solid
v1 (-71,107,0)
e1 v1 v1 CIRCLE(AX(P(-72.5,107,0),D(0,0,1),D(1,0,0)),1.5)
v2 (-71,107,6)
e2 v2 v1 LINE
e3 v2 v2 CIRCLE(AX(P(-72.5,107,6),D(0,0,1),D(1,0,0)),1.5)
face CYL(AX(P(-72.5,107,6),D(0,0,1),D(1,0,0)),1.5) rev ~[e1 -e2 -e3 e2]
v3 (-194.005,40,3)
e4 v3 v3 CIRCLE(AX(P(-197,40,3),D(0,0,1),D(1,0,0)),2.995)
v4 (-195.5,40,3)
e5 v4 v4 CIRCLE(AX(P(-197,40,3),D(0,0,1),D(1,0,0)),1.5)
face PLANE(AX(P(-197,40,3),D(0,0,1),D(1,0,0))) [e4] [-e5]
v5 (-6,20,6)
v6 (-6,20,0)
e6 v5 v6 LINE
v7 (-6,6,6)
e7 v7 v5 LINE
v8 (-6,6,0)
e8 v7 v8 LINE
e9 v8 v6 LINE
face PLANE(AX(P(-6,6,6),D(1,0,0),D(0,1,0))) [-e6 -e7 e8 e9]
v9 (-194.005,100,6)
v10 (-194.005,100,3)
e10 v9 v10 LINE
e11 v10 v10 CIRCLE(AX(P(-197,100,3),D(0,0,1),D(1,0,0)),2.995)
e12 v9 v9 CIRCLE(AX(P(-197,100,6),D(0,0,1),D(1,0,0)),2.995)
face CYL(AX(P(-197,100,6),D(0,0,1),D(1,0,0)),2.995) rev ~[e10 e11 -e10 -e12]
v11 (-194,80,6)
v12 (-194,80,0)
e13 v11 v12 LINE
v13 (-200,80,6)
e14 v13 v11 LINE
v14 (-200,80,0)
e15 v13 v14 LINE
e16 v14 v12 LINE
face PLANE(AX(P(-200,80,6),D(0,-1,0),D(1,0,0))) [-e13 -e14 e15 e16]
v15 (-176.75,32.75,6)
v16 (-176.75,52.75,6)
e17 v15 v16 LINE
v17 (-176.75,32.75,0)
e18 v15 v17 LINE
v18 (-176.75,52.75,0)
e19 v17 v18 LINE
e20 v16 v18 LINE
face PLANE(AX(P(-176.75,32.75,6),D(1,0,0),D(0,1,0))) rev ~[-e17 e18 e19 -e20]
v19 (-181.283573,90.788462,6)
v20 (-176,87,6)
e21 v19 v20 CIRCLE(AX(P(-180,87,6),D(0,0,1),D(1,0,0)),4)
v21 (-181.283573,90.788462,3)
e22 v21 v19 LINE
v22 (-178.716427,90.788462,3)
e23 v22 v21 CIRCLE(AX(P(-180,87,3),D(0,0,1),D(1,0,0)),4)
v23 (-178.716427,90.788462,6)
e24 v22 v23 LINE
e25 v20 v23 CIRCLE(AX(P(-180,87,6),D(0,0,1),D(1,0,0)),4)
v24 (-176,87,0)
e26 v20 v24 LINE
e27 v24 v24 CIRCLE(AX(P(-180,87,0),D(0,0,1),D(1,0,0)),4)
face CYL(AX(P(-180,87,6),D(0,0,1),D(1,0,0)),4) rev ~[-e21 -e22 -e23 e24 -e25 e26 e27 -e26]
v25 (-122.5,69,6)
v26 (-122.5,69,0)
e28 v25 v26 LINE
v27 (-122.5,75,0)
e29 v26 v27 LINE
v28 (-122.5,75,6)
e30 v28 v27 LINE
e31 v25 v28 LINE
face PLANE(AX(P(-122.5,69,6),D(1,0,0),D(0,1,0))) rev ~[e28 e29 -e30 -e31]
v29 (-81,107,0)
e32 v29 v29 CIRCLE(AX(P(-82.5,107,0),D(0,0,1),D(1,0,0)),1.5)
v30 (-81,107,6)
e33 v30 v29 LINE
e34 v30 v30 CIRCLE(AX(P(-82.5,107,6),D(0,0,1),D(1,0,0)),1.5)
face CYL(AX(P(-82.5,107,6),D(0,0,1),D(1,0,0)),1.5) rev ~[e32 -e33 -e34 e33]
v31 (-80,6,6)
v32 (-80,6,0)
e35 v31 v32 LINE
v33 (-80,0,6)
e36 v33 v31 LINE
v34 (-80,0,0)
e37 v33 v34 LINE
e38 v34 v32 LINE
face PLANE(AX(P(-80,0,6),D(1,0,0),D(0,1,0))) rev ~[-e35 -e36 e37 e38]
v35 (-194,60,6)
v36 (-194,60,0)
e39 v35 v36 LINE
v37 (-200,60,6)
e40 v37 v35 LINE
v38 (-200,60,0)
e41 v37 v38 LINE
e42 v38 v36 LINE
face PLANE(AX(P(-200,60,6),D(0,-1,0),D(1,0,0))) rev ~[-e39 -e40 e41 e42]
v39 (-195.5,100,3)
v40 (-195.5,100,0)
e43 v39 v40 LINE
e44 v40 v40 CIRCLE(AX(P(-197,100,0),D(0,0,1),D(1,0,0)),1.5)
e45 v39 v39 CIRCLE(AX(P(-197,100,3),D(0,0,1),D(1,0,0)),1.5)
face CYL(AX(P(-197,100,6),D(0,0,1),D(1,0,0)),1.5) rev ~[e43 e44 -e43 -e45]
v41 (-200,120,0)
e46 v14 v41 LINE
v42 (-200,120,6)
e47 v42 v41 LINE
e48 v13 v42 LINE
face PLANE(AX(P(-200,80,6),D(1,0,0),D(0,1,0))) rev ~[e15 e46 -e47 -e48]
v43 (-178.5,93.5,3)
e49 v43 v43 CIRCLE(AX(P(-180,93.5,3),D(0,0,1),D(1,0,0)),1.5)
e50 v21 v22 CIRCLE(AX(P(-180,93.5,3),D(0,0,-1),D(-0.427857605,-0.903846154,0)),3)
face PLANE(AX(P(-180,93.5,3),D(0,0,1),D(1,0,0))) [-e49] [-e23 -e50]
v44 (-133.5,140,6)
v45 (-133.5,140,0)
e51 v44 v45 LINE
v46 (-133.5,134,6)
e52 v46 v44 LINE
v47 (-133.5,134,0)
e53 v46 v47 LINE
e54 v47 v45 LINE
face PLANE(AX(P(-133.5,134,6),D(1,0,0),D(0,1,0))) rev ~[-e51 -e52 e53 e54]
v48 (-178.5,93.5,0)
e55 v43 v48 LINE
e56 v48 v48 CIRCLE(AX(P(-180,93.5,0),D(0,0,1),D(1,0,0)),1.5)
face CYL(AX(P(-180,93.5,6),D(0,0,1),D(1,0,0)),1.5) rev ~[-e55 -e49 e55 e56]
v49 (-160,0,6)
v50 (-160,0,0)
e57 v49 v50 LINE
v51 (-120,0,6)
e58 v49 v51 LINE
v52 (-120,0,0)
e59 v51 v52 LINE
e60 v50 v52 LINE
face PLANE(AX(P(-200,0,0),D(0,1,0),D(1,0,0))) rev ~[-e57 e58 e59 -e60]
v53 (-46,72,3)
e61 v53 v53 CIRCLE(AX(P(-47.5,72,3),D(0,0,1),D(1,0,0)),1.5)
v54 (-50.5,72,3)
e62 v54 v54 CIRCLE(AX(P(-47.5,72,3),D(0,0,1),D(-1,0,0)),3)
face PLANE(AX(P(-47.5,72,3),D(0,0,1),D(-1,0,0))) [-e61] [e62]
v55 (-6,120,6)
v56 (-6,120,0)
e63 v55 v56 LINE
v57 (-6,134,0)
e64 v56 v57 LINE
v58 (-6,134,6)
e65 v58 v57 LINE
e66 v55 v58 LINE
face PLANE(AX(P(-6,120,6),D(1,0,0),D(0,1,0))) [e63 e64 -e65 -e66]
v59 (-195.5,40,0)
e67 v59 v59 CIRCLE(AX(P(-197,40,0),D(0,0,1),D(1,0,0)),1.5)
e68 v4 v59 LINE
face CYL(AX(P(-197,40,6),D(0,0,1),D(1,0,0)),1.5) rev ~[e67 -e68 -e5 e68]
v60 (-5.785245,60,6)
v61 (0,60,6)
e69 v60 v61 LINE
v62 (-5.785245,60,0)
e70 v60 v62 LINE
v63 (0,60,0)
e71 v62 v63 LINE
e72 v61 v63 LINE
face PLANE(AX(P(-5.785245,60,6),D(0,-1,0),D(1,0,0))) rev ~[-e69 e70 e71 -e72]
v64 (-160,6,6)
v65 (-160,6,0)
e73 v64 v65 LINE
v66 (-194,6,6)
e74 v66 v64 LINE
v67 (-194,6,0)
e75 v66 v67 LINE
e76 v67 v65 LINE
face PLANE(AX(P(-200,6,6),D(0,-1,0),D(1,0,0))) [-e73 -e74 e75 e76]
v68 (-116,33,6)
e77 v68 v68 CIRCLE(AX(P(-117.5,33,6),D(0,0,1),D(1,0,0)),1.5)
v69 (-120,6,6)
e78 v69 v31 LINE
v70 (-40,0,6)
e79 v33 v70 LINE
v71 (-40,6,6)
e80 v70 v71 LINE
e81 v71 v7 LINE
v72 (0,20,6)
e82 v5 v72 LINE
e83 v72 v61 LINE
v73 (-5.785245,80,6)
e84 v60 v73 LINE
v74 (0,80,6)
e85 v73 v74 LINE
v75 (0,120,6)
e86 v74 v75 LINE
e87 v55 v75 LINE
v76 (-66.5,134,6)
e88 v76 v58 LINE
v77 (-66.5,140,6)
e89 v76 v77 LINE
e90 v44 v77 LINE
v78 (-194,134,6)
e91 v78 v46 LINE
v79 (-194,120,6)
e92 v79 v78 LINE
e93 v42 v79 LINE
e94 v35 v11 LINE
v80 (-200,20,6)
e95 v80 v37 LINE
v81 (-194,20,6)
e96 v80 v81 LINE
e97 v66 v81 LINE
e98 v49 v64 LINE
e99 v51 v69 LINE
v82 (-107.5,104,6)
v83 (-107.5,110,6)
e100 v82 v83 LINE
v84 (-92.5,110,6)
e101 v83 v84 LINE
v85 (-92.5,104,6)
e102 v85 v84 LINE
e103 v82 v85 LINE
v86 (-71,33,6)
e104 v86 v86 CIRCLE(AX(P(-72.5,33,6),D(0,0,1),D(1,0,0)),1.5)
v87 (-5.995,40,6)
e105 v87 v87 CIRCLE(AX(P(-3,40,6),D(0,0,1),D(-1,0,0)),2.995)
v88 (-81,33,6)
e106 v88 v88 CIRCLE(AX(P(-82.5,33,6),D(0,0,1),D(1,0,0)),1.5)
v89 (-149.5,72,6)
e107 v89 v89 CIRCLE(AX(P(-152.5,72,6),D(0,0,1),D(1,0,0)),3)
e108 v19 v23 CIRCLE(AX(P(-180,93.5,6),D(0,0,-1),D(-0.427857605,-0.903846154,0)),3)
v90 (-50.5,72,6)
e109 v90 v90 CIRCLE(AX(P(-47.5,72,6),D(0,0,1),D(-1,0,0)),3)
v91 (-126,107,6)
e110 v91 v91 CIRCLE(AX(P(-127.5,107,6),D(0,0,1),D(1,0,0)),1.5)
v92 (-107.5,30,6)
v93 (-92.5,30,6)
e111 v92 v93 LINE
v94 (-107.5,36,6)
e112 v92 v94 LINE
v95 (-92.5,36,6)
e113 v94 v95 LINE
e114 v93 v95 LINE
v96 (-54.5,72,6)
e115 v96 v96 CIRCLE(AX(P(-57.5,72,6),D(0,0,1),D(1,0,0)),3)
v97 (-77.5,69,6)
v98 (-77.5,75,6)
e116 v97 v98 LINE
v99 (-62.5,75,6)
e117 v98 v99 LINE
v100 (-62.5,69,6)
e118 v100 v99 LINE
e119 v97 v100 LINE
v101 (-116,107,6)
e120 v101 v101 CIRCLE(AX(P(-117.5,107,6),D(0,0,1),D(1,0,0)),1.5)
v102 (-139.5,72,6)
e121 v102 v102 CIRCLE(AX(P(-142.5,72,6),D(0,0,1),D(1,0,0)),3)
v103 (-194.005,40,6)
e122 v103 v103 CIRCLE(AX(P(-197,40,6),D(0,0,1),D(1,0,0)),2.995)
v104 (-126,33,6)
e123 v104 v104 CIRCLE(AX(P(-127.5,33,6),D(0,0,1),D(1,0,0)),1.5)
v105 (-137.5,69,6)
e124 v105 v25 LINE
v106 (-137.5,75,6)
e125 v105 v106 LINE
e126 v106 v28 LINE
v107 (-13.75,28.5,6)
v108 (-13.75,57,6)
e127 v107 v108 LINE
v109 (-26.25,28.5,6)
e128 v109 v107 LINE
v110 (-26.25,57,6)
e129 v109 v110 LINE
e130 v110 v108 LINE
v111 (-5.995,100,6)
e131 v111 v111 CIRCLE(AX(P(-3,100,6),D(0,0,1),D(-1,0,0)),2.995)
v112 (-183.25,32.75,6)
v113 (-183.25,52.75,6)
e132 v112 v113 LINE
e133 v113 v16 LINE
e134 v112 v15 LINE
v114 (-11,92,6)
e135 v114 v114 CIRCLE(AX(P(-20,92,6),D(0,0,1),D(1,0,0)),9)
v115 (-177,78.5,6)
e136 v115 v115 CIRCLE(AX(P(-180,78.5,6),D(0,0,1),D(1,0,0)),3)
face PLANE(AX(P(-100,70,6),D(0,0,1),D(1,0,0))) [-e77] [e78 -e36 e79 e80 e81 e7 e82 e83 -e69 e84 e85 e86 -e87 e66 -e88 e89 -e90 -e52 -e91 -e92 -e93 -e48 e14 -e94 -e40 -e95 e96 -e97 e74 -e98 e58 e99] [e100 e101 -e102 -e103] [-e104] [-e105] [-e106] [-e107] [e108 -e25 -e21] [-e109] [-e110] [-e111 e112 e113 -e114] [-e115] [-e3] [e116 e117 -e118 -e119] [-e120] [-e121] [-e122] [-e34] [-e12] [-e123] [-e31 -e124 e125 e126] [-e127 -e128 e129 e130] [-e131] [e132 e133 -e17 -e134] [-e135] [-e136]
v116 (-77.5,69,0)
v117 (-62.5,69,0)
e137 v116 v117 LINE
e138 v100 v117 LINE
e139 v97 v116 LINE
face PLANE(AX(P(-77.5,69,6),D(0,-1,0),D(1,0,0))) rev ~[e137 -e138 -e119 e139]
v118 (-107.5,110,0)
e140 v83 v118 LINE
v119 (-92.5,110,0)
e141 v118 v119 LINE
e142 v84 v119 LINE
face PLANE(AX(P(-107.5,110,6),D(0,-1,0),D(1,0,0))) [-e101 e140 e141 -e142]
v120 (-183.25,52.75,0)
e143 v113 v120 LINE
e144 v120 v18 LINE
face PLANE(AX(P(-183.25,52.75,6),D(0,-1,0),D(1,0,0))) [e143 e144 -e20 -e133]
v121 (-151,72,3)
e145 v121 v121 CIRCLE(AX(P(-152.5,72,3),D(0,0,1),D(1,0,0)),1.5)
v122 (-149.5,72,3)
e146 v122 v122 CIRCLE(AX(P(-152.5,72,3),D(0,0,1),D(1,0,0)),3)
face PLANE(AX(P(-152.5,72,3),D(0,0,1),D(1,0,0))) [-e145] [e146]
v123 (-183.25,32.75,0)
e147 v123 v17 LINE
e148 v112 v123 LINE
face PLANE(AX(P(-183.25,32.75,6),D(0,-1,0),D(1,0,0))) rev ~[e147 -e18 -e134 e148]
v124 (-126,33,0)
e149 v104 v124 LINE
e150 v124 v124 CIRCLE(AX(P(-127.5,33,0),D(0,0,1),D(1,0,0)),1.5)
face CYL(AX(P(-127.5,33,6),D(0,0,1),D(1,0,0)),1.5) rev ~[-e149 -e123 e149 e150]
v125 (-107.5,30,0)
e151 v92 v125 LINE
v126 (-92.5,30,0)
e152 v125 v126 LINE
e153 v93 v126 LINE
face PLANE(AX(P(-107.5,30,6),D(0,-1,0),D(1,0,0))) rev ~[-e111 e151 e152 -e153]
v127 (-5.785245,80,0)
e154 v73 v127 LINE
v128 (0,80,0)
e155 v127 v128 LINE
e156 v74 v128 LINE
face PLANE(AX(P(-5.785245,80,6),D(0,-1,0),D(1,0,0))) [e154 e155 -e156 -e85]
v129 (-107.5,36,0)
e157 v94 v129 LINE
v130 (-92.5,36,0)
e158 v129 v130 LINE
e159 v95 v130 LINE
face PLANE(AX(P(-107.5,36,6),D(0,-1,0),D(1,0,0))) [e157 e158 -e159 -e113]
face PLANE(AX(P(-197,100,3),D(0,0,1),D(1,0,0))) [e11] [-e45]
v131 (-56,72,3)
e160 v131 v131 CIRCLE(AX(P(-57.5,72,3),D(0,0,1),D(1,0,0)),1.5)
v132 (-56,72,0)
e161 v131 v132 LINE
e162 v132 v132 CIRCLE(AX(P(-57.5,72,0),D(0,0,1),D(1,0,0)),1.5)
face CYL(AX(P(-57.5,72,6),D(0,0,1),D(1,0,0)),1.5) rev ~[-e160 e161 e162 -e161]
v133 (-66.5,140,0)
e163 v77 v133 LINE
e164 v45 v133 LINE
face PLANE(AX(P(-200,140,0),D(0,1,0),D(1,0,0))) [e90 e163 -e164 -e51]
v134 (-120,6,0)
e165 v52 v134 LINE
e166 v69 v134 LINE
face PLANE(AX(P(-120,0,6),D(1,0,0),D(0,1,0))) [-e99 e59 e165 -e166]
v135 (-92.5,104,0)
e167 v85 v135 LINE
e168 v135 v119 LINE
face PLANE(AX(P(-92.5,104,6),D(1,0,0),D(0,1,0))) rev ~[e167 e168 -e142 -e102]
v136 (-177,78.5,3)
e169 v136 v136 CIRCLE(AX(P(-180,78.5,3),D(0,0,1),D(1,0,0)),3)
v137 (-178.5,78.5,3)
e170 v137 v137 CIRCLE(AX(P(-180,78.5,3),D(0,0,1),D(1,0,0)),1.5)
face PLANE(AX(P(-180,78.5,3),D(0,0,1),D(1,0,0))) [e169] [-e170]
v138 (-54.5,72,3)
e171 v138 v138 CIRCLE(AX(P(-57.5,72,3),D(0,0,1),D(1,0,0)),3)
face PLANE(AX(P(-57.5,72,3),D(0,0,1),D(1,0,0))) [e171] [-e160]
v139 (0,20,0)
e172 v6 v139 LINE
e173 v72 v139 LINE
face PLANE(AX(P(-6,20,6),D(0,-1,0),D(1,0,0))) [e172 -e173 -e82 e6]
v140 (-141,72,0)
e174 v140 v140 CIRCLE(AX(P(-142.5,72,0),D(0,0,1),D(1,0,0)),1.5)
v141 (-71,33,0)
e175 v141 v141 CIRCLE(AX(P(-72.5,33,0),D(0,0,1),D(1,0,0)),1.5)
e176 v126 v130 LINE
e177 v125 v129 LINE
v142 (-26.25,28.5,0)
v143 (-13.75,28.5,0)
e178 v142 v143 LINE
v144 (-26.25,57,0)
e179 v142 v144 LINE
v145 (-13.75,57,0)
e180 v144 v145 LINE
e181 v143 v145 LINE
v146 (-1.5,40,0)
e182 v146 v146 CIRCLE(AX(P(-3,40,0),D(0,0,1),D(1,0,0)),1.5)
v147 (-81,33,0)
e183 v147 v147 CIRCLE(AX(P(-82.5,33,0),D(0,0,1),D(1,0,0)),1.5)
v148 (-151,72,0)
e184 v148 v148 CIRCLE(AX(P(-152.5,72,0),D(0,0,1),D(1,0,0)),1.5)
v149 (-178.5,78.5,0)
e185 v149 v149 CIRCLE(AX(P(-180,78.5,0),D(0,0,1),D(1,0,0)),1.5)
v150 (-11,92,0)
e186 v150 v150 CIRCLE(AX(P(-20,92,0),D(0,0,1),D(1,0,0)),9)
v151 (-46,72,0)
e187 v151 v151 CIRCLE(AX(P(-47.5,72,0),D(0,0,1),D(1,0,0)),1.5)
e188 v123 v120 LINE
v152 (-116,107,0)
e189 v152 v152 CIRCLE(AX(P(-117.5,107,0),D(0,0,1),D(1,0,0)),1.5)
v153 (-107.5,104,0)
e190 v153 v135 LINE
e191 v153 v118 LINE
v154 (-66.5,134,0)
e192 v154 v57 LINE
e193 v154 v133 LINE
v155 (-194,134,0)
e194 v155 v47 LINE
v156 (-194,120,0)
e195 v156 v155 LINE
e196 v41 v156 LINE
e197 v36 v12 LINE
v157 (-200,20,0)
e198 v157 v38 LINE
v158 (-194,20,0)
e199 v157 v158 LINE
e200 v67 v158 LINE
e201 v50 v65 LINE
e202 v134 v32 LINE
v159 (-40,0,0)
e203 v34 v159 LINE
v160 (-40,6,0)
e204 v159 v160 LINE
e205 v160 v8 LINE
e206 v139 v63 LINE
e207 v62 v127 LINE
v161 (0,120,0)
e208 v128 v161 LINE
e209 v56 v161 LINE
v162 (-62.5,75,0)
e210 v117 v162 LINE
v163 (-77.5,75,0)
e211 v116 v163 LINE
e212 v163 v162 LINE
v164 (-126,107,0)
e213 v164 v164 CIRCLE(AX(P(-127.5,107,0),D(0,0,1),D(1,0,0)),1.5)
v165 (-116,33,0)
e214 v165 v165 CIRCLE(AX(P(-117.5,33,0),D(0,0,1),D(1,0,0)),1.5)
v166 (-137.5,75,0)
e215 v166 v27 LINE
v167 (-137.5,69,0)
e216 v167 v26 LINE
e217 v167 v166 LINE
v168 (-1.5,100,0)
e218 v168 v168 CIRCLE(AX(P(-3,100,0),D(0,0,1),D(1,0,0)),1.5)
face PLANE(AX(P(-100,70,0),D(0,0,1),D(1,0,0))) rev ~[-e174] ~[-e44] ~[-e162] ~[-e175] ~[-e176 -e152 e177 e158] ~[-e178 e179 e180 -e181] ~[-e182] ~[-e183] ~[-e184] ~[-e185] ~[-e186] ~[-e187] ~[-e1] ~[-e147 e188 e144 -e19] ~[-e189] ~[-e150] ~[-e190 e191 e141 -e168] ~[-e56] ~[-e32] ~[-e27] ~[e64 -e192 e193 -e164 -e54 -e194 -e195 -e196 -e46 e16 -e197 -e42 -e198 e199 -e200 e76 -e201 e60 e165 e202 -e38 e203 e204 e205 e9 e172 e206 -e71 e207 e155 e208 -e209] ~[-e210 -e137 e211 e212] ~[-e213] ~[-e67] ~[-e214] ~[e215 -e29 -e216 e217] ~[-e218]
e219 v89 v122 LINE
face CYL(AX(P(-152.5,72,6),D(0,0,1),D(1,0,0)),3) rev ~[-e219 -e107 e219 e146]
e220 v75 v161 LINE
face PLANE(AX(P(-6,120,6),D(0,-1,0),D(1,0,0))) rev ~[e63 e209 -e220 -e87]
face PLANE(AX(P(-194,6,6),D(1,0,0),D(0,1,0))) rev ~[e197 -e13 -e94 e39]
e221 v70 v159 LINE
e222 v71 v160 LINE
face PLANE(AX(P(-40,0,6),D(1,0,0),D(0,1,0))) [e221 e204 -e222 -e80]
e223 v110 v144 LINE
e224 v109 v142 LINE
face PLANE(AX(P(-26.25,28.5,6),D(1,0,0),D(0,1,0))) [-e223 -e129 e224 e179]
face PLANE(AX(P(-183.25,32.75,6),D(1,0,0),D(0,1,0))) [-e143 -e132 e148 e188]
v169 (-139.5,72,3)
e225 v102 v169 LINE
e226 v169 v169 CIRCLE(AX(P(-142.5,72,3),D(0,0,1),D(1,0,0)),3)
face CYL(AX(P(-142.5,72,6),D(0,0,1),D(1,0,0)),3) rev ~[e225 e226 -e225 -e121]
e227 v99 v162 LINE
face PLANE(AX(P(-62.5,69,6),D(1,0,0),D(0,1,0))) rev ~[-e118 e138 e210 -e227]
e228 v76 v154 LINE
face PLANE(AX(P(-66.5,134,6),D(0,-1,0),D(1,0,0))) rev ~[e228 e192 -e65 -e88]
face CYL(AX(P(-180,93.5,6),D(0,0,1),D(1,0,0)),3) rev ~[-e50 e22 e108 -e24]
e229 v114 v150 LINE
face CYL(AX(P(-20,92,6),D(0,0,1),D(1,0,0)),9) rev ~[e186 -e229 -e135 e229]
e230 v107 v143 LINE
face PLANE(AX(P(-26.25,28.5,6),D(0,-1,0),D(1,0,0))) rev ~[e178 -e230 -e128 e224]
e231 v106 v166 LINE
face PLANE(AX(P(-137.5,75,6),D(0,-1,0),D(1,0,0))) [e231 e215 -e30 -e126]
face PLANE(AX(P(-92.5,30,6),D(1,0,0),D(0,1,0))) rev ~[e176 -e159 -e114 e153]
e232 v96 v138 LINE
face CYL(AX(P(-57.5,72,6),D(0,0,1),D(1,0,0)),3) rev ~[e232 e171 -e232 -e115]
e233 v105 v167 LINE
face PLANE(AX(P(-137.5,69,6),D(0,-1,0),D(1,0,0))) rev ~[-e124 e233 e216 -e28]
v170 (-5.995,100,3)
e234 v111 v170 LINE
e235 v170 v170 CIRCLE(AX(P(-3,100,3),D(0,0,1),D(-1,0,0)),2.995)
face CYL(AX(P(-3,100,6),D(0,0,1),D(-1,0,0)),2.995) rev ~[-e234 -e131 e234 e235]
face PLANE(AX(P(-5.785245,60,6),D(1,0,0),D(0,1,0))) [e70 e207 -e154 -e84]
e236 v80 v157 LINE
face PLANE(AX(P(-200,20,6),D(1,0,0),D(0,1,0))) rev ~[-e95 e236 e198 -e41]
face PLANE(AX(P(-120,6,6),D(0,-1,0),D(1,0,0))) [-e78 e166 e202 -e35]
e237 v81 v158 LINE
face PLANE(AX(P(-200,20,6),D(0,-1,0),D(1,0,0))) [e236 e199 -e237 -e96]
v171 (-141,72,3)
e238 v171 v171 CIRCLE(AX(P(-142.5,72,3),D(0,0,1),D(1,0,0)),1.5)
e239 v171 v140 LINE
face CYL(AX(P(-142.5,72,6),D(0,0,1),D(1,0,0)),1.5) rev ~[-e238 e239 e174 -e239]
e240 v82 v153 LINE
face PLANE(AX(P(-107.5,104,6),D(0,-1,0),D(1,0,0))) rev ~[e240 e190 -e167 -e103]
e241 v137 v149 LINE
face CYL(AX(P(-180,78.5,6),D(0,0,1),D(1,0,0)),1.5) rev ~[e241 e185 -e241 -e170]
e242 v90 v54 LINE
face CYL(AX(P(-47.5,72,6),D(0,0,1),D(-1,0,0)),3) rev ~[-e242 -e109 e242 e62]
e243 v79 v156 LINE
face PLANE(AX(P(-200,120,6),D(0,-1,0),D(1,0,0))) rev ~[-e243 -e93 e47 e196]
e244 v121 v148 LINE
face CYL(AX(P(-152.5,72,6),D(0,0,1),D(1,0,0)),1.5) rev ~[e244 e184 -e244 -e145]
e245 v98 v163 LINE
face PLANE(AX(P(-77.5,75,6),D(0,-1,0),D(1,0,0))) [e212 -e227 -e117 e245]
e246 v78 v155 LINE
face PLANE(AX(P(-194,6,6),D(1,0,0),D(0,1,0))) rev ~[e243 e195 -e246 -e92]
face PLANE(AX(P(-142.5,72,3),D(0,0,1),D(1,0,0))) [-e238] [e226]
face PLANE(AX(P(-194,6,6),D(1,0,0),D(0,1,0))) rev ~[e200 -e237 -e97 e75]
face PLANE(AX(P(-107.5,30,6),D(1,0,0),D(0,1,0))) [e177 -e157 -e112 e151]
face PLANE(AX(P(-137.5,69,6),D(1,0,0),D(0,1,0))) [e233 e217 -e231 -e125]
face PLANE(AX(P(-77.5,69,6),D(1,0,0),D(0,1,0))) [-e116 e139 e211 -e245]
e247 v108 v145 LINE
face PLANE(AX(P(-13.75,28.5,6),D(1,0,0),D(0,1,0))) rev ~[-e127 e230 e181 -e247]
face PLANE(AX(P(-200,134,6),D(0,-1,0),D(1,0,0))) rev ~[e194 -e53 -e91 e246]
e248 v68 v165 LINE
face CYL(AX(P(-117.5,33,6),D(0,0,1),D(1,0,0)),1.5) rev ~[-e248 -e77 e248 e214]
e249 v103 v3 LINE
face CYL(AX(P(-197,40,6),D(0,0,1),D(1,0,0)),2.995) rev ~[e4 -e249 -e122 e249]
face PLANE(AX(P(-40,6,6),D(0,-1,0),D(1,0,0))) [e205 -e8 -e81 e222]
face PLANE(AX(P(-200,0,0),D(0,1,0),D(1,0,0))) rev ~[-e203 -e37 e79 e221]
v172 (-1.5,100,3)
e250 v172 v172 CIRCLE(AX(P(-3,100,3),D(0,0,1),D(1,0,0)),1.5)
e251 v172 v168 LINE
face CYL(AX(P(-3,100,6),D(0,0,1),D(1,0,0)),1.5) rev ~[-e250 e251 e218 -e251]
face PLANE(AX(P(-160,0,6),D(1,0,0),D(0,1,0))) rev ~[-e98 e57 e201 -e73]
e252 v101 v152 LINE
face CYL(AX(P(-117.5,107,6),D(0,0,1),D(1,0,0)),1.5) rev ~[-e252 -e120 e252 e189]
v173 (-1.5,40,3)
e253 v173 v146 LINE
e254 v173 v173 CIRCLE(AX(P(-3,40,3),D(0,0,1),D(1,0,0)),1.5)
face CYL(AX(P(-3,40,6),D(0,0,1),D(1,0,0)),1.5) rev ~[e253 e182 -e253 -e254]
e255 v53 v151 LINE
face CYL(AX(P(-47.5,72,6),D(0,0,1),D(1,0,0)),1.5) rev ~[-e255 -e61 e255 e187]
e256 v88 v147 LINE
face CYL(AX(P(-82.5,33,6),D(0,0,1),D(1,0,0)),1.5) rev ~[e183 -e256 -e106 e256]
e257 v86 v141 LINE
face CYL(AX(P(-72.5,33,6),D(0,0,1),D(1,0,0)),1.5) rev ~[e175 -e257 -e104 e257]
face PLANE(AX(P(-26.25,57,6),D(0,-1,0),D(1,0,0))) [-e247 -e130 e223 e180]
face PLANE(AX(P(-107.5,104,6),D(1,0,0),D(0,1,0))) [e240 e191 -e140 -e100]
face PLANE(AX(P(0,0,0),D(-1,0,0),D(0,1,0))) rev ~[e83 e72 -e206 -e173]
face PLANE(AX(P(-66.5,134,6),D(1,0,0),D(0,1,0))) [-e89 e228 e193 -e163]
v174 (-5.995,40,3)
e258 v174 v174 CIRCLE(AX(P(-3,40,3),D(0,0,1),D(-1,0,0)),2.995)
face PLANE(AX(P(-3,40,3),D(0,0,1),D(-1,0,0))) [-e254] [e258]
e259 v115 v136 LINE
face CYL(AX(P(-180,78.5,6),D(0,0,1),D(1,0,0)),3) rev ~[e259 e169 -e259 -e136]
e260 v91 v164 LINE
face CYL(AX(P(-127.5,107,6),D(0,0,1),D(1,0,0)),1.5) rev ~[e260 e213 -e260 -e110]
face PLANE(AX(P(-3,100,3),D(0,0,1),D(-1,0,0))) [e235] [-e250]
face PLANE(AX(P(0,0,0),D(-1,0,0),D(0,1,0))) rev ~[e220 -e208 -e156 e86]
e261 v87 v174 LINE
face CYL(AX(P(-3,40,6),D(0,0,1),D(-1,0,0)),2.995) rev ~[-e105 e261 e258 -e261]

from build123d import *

# Parameters (mm, degrees)
ESQUISSE1_W              = 200
ESQUISSE1_H              = 140
BOSS_EXTRU_1_DEPTH       = 6
ESQUISSE2_R              = 9
ESQUISSE2_R_2            = 4
ESQUISSE2_W              = 6.5
ESQUISSE2_H              = 20
ESQUISSE2_W_2            = 12.5
ESQUISSE2_H_2            = 28.5
ENL_V_MAT_EXTRU_1_DEPTH  = 245.204832057
ESQUISSE3_W              = 40
ESQUISSE3_H              = 6
ESQUISSE3_W_2            = 66.5
ENL_V_MAT_EXTRU_2_DEPTH  = 6
ESQUISSE7_W              = 6
ESQUISSE7_H              = 128
ESQUISSE7_H_2            = 14
ESQUISSE7_R              = 1.5
ENL_V_MAT_EXTRU_4_DEPTH  = 6
ESQUISSE9_W              = 5.785245128
ESQUISSE9_H              = 20
ENL_V_MAT_EXTRU_5_DEPTH  = 6
ESQUISSE12_W             = 6
ESQUISSE12_H             = 40
BOSS_EXTRU_2_DEPTH       = 6
ESQUISSE13_R             = 1.5
ENL_V_MAT_EXTRU_7_DEPTH  = 6
ESQUISSE14_R             = 1.5
ESQUISSE14_W             = 15
ESQUISSE14_H             = 6
ENL_V_MAT_EXTRU_8_DEPTH  = 245.204832057
ESQUISSE15_R             = 1.5
ENL_V_MAT_EXTRU_9_DEPTH  = 245.204832057
ESQUISSE17_R             = 3
ENL_V_MAT_EXTRU_12_DEPTH = 3
ESQUISSE18_R             = 1.5
ESQUISSE18_W             = 15
ESQUISSE18_H             = 6
ENL_V_MAT_EXTRU_13_DEPTH = 245.204832057
ESQUISSE16_R             = 2.995
ESQUISSE16_R_2           = 3
ENL_V_MAT_EXTRU_11_DEPTH = 3


with BuildPart() as part:
    # Esquisse1 → Boss.-Extru.1 (new body)
    with BuildSketch(Plane.XY):
        with Locations((-100, 70)):
            Rectangle(ESQUISSE1_W, ESQUISSE1_H)
    extrude(amount=BOSS_EXTRU_1_DEPTH)

    # Esquisse2 → Enlèv. mat.-Extru.1 (cut, through all)
    with BuildSketch(Plane.XY.offset(6)):
        with Locations((-20, 92)):
            Circle(ESQUISSE2_R)
        with Locations((-180, 87)):
            Circle(ESQUISSE2_R_2)
        with Locations((-180, 42.75)):
            Rectangle(ESQUISSE2_W, ESQUISSE2_H)
        with Locations((-20, 42.75)):
            Rectangle(ESQUISSE2_W_2, ESQUISSE2_H_2)
    extrude(amount=-ENL_V_MAT_EXTRU_1_DEPTH, mode=Mode.SUBTRACT)

    # Esquisse3 → Enlèv. mat.-Extru.2 (cut)
    with BuildSketch(Plane.XY.offset(6)):
        with Locations((-180, 3)):
            Rectangle(ESQUISSE3_W, ESQUISSE3_H)
        with Locations((-100, 3)):
            Rectangle(ESQUISSE3_W, ESQUISSE3_H)
        with Locations((-20, 3)):
            Rectangle(ESQUISSE3_W, ESQUISSE3_H)
        with Locations((-166.75, 137)):
            Rectangle(ESQUISSE3_W_2, ESQUISSE3_H)
        with Locations((-33.25, 137)):
            Rectangle(ESQUISSE3_W_2, ESQUISSE3_H)
    extrude(amount=-ENL_V_MAT_EXTRU_2_DEPTH, mode=Mode.SUBTRACT)

    # Esquisse7 → Enlèv. mat.-Extru.4 (cut)
    with BuildSketch(Plane.XY.offset(6)):
        with Locations((-197, 70)):
            Rectangle(ESQUISSE7_W, ESQUISSE7_H)
        with Locations((-3, 127)):
            Rectangle(ESQUISSE7_W, ESQUISSE7_H_2)
        with Locations((-3, 13)):
            Rectangle(ESQUISSE7_W, ESQUISSE7_H_2)
        with Locations((-3, 40)):
            Circle(ESQUISSE7_R)
        with Locations((-3, 100)):
            Circle(ESQUISSE7_R)
    extrude(amount=-ENL_V_MAT_EXTRU_4_DEPTH, mode=Mode.SUBTRACT)

    # Esquisse9 → Enlèv. mat.-Extru.5 (cut)
    with BuildSketch(Plane.XY.offset(6)):
        with Locations((-2.892622564, 70)):
            Rectangle(ESQUISSE9_W, ESQUISSE9_H)
    extrude(amount=-ENL_V_MAT_EXTRU_5_DEPTH, mode=Mode.SUBTRACT)

    # Esquisse12 → Boss.-Extru.2 (add)
    with BuildSketch(Plane.XY.offset(6)):
        with Locations((-197, 100)):
            Rectangle(ESQUISSE12_W, ESQUISSE12_H)
        with Locations((-197, 40)):
            Rectangle(ESQUISSE12_W, ESQUISSE12_H)
    extrude(amount=-BOSS_EXTRU_2_DEPTH)

    # Esquisse13 → Enlèv. mat.-Extru.7 (cut)
    with BuildSketch(Plane.XY.offset(6)):
        with Locations((-197, 100)):
            Circle(ESQUISSE13_R)
        with Locations((-197, 40)):
            Circle(ESQUISSE13_R)
    extrude(amount=-ENL_V_MAT_EXTRU_7_DEPTH, mode=Mode.SUBTRACT)

    # Esquisse14 → Enlèv. mat.-Extru.8 (cut, through all)
    with BuildSketch(Plane.XY.offset(6)):
        with Locations((-152.5, 72)):
            Circle(ESQUISSE14_R)
        with Locations((-142.5, 72)):
            Circle(ESQUISSE14_R)
        with Locations((-57.5, 72)):
            Circle(ESQUISSE14_R)
        with Locations((-47.5, 72)):
            Circle(ESQUISSE14_R)
        with Locations((-70, 72)):
            Rectangle(ESQUISSE14_W, ESQUISSE14_H)
        with Locations((-130, 72)):
            Rectangle(ESQUISSE14_W, ESQUISSE14_H)
    extrude(amount=-ENL_V_MAT_EXTRU_8_DEPTH, mode=Mode.SUBTRACT)

    # Esquisse15 → Enlèv. mat.-Extru.9 (cut, through all)
    with BuildSketch(Plane.XY.offset(6)):
        with Locations((-180, 93.5)):
            Circle(ESQUISSE15_R)
        with Locations((-180, 78.5)):
            Circle(ESQUISSE15_R)
    extrude(amount=-ENL_V_MAT_EXTRU_9_DEPTH, mode=Mode.SUBTRACT)

    # Esquisse17 → Enlèv. mat.-Extru.12 (cut)
    with BuildSketch(Plane.XY.offset(6)):
        with Locations((-180, 93.5)):
            Circle(ESQUISSE17_R)
        with Locations((-180, 78.5)):
            Circle(ESQUISSE17_R)
    extrude(amount=-ENL_V_MAT_EXTRU_12_DEPTH, mode=Mode.SUBTRACT)

    # Esquisse18 → Enlèv. mat.-Extru.13 (cut, through all)
    with BuildSketch(Plane.XY.offset(6)):
        with Locations((-117.5, 107)):
            Circle(ESQUISSE18_R)
        with Locations((-82.5, 107)):
            Circle(ESQUISSE18_R)
        with Locations((-117.5, 33)):
            Circle(ESQUISSE18_R)
        with Locations((-82.5, 33)):
            Circle(ESQUISSE18_R)
        with Locations((-127.5, 107)):
            Circle(ESQUISSE18_R)
        with Locations((-72.5, 107)):
            Circle(ESQUISSE18_R)
        with Locations((-72.5, 33)):
            Circle(ESQUISSE18_R)
        with Locations((-127.5, 33)):
            Circle(ESQUISSE18_R)
        with Locations((-100, 107)):
            Rectangle(ESQUISSE18_W, ESQUISSE18_H)
        with Locations((-100, 33)):
            Rectangle(ESQUISSE18_W, ESQUISSE18_H)
    extrude(amount=-ENL_V_MAT_EXTRU_13_DEPTH, mode=Mode.SUBTRACT)

    # Esquisse16 → Enlèv. mat.-Extru.11 (cut)
    with BuildSketch(Plane.XY.offset(6)):
        with Locations((-197, 100)):
            Circle(ESQUISSE16_R)
        with Locations((-142.5, 72)):
            Circle(ESQUISSE16_R_2)
        with Locations((-152.5, 72)):
            Circle(ESQUISSE16_R_2)
        with Locations((-57.5, 72)):
            Circle(ESQUISSE16_R_2)
        with Locations((-197, 40)):
            Circle(ESQUISSE16_R)
        with Locations(Location((-3, 40, 0), (0, 0, 180))):
            Circle(ESQUISSE16_R)
        with Locations(Location((-47.5, 72, 0), (0, 0, 180))):
            Circle(ESQUISSE16_R_2)
        with Locations(Location((-3, 100, 0), (0, 0, 180))):
            Circle(ESQUISSE16_R)
    extrude(amount=-ENL_V_MAT_EXTRU_11_DEPTH, mode=Mode.SUBTRACT)


solid = part.part
